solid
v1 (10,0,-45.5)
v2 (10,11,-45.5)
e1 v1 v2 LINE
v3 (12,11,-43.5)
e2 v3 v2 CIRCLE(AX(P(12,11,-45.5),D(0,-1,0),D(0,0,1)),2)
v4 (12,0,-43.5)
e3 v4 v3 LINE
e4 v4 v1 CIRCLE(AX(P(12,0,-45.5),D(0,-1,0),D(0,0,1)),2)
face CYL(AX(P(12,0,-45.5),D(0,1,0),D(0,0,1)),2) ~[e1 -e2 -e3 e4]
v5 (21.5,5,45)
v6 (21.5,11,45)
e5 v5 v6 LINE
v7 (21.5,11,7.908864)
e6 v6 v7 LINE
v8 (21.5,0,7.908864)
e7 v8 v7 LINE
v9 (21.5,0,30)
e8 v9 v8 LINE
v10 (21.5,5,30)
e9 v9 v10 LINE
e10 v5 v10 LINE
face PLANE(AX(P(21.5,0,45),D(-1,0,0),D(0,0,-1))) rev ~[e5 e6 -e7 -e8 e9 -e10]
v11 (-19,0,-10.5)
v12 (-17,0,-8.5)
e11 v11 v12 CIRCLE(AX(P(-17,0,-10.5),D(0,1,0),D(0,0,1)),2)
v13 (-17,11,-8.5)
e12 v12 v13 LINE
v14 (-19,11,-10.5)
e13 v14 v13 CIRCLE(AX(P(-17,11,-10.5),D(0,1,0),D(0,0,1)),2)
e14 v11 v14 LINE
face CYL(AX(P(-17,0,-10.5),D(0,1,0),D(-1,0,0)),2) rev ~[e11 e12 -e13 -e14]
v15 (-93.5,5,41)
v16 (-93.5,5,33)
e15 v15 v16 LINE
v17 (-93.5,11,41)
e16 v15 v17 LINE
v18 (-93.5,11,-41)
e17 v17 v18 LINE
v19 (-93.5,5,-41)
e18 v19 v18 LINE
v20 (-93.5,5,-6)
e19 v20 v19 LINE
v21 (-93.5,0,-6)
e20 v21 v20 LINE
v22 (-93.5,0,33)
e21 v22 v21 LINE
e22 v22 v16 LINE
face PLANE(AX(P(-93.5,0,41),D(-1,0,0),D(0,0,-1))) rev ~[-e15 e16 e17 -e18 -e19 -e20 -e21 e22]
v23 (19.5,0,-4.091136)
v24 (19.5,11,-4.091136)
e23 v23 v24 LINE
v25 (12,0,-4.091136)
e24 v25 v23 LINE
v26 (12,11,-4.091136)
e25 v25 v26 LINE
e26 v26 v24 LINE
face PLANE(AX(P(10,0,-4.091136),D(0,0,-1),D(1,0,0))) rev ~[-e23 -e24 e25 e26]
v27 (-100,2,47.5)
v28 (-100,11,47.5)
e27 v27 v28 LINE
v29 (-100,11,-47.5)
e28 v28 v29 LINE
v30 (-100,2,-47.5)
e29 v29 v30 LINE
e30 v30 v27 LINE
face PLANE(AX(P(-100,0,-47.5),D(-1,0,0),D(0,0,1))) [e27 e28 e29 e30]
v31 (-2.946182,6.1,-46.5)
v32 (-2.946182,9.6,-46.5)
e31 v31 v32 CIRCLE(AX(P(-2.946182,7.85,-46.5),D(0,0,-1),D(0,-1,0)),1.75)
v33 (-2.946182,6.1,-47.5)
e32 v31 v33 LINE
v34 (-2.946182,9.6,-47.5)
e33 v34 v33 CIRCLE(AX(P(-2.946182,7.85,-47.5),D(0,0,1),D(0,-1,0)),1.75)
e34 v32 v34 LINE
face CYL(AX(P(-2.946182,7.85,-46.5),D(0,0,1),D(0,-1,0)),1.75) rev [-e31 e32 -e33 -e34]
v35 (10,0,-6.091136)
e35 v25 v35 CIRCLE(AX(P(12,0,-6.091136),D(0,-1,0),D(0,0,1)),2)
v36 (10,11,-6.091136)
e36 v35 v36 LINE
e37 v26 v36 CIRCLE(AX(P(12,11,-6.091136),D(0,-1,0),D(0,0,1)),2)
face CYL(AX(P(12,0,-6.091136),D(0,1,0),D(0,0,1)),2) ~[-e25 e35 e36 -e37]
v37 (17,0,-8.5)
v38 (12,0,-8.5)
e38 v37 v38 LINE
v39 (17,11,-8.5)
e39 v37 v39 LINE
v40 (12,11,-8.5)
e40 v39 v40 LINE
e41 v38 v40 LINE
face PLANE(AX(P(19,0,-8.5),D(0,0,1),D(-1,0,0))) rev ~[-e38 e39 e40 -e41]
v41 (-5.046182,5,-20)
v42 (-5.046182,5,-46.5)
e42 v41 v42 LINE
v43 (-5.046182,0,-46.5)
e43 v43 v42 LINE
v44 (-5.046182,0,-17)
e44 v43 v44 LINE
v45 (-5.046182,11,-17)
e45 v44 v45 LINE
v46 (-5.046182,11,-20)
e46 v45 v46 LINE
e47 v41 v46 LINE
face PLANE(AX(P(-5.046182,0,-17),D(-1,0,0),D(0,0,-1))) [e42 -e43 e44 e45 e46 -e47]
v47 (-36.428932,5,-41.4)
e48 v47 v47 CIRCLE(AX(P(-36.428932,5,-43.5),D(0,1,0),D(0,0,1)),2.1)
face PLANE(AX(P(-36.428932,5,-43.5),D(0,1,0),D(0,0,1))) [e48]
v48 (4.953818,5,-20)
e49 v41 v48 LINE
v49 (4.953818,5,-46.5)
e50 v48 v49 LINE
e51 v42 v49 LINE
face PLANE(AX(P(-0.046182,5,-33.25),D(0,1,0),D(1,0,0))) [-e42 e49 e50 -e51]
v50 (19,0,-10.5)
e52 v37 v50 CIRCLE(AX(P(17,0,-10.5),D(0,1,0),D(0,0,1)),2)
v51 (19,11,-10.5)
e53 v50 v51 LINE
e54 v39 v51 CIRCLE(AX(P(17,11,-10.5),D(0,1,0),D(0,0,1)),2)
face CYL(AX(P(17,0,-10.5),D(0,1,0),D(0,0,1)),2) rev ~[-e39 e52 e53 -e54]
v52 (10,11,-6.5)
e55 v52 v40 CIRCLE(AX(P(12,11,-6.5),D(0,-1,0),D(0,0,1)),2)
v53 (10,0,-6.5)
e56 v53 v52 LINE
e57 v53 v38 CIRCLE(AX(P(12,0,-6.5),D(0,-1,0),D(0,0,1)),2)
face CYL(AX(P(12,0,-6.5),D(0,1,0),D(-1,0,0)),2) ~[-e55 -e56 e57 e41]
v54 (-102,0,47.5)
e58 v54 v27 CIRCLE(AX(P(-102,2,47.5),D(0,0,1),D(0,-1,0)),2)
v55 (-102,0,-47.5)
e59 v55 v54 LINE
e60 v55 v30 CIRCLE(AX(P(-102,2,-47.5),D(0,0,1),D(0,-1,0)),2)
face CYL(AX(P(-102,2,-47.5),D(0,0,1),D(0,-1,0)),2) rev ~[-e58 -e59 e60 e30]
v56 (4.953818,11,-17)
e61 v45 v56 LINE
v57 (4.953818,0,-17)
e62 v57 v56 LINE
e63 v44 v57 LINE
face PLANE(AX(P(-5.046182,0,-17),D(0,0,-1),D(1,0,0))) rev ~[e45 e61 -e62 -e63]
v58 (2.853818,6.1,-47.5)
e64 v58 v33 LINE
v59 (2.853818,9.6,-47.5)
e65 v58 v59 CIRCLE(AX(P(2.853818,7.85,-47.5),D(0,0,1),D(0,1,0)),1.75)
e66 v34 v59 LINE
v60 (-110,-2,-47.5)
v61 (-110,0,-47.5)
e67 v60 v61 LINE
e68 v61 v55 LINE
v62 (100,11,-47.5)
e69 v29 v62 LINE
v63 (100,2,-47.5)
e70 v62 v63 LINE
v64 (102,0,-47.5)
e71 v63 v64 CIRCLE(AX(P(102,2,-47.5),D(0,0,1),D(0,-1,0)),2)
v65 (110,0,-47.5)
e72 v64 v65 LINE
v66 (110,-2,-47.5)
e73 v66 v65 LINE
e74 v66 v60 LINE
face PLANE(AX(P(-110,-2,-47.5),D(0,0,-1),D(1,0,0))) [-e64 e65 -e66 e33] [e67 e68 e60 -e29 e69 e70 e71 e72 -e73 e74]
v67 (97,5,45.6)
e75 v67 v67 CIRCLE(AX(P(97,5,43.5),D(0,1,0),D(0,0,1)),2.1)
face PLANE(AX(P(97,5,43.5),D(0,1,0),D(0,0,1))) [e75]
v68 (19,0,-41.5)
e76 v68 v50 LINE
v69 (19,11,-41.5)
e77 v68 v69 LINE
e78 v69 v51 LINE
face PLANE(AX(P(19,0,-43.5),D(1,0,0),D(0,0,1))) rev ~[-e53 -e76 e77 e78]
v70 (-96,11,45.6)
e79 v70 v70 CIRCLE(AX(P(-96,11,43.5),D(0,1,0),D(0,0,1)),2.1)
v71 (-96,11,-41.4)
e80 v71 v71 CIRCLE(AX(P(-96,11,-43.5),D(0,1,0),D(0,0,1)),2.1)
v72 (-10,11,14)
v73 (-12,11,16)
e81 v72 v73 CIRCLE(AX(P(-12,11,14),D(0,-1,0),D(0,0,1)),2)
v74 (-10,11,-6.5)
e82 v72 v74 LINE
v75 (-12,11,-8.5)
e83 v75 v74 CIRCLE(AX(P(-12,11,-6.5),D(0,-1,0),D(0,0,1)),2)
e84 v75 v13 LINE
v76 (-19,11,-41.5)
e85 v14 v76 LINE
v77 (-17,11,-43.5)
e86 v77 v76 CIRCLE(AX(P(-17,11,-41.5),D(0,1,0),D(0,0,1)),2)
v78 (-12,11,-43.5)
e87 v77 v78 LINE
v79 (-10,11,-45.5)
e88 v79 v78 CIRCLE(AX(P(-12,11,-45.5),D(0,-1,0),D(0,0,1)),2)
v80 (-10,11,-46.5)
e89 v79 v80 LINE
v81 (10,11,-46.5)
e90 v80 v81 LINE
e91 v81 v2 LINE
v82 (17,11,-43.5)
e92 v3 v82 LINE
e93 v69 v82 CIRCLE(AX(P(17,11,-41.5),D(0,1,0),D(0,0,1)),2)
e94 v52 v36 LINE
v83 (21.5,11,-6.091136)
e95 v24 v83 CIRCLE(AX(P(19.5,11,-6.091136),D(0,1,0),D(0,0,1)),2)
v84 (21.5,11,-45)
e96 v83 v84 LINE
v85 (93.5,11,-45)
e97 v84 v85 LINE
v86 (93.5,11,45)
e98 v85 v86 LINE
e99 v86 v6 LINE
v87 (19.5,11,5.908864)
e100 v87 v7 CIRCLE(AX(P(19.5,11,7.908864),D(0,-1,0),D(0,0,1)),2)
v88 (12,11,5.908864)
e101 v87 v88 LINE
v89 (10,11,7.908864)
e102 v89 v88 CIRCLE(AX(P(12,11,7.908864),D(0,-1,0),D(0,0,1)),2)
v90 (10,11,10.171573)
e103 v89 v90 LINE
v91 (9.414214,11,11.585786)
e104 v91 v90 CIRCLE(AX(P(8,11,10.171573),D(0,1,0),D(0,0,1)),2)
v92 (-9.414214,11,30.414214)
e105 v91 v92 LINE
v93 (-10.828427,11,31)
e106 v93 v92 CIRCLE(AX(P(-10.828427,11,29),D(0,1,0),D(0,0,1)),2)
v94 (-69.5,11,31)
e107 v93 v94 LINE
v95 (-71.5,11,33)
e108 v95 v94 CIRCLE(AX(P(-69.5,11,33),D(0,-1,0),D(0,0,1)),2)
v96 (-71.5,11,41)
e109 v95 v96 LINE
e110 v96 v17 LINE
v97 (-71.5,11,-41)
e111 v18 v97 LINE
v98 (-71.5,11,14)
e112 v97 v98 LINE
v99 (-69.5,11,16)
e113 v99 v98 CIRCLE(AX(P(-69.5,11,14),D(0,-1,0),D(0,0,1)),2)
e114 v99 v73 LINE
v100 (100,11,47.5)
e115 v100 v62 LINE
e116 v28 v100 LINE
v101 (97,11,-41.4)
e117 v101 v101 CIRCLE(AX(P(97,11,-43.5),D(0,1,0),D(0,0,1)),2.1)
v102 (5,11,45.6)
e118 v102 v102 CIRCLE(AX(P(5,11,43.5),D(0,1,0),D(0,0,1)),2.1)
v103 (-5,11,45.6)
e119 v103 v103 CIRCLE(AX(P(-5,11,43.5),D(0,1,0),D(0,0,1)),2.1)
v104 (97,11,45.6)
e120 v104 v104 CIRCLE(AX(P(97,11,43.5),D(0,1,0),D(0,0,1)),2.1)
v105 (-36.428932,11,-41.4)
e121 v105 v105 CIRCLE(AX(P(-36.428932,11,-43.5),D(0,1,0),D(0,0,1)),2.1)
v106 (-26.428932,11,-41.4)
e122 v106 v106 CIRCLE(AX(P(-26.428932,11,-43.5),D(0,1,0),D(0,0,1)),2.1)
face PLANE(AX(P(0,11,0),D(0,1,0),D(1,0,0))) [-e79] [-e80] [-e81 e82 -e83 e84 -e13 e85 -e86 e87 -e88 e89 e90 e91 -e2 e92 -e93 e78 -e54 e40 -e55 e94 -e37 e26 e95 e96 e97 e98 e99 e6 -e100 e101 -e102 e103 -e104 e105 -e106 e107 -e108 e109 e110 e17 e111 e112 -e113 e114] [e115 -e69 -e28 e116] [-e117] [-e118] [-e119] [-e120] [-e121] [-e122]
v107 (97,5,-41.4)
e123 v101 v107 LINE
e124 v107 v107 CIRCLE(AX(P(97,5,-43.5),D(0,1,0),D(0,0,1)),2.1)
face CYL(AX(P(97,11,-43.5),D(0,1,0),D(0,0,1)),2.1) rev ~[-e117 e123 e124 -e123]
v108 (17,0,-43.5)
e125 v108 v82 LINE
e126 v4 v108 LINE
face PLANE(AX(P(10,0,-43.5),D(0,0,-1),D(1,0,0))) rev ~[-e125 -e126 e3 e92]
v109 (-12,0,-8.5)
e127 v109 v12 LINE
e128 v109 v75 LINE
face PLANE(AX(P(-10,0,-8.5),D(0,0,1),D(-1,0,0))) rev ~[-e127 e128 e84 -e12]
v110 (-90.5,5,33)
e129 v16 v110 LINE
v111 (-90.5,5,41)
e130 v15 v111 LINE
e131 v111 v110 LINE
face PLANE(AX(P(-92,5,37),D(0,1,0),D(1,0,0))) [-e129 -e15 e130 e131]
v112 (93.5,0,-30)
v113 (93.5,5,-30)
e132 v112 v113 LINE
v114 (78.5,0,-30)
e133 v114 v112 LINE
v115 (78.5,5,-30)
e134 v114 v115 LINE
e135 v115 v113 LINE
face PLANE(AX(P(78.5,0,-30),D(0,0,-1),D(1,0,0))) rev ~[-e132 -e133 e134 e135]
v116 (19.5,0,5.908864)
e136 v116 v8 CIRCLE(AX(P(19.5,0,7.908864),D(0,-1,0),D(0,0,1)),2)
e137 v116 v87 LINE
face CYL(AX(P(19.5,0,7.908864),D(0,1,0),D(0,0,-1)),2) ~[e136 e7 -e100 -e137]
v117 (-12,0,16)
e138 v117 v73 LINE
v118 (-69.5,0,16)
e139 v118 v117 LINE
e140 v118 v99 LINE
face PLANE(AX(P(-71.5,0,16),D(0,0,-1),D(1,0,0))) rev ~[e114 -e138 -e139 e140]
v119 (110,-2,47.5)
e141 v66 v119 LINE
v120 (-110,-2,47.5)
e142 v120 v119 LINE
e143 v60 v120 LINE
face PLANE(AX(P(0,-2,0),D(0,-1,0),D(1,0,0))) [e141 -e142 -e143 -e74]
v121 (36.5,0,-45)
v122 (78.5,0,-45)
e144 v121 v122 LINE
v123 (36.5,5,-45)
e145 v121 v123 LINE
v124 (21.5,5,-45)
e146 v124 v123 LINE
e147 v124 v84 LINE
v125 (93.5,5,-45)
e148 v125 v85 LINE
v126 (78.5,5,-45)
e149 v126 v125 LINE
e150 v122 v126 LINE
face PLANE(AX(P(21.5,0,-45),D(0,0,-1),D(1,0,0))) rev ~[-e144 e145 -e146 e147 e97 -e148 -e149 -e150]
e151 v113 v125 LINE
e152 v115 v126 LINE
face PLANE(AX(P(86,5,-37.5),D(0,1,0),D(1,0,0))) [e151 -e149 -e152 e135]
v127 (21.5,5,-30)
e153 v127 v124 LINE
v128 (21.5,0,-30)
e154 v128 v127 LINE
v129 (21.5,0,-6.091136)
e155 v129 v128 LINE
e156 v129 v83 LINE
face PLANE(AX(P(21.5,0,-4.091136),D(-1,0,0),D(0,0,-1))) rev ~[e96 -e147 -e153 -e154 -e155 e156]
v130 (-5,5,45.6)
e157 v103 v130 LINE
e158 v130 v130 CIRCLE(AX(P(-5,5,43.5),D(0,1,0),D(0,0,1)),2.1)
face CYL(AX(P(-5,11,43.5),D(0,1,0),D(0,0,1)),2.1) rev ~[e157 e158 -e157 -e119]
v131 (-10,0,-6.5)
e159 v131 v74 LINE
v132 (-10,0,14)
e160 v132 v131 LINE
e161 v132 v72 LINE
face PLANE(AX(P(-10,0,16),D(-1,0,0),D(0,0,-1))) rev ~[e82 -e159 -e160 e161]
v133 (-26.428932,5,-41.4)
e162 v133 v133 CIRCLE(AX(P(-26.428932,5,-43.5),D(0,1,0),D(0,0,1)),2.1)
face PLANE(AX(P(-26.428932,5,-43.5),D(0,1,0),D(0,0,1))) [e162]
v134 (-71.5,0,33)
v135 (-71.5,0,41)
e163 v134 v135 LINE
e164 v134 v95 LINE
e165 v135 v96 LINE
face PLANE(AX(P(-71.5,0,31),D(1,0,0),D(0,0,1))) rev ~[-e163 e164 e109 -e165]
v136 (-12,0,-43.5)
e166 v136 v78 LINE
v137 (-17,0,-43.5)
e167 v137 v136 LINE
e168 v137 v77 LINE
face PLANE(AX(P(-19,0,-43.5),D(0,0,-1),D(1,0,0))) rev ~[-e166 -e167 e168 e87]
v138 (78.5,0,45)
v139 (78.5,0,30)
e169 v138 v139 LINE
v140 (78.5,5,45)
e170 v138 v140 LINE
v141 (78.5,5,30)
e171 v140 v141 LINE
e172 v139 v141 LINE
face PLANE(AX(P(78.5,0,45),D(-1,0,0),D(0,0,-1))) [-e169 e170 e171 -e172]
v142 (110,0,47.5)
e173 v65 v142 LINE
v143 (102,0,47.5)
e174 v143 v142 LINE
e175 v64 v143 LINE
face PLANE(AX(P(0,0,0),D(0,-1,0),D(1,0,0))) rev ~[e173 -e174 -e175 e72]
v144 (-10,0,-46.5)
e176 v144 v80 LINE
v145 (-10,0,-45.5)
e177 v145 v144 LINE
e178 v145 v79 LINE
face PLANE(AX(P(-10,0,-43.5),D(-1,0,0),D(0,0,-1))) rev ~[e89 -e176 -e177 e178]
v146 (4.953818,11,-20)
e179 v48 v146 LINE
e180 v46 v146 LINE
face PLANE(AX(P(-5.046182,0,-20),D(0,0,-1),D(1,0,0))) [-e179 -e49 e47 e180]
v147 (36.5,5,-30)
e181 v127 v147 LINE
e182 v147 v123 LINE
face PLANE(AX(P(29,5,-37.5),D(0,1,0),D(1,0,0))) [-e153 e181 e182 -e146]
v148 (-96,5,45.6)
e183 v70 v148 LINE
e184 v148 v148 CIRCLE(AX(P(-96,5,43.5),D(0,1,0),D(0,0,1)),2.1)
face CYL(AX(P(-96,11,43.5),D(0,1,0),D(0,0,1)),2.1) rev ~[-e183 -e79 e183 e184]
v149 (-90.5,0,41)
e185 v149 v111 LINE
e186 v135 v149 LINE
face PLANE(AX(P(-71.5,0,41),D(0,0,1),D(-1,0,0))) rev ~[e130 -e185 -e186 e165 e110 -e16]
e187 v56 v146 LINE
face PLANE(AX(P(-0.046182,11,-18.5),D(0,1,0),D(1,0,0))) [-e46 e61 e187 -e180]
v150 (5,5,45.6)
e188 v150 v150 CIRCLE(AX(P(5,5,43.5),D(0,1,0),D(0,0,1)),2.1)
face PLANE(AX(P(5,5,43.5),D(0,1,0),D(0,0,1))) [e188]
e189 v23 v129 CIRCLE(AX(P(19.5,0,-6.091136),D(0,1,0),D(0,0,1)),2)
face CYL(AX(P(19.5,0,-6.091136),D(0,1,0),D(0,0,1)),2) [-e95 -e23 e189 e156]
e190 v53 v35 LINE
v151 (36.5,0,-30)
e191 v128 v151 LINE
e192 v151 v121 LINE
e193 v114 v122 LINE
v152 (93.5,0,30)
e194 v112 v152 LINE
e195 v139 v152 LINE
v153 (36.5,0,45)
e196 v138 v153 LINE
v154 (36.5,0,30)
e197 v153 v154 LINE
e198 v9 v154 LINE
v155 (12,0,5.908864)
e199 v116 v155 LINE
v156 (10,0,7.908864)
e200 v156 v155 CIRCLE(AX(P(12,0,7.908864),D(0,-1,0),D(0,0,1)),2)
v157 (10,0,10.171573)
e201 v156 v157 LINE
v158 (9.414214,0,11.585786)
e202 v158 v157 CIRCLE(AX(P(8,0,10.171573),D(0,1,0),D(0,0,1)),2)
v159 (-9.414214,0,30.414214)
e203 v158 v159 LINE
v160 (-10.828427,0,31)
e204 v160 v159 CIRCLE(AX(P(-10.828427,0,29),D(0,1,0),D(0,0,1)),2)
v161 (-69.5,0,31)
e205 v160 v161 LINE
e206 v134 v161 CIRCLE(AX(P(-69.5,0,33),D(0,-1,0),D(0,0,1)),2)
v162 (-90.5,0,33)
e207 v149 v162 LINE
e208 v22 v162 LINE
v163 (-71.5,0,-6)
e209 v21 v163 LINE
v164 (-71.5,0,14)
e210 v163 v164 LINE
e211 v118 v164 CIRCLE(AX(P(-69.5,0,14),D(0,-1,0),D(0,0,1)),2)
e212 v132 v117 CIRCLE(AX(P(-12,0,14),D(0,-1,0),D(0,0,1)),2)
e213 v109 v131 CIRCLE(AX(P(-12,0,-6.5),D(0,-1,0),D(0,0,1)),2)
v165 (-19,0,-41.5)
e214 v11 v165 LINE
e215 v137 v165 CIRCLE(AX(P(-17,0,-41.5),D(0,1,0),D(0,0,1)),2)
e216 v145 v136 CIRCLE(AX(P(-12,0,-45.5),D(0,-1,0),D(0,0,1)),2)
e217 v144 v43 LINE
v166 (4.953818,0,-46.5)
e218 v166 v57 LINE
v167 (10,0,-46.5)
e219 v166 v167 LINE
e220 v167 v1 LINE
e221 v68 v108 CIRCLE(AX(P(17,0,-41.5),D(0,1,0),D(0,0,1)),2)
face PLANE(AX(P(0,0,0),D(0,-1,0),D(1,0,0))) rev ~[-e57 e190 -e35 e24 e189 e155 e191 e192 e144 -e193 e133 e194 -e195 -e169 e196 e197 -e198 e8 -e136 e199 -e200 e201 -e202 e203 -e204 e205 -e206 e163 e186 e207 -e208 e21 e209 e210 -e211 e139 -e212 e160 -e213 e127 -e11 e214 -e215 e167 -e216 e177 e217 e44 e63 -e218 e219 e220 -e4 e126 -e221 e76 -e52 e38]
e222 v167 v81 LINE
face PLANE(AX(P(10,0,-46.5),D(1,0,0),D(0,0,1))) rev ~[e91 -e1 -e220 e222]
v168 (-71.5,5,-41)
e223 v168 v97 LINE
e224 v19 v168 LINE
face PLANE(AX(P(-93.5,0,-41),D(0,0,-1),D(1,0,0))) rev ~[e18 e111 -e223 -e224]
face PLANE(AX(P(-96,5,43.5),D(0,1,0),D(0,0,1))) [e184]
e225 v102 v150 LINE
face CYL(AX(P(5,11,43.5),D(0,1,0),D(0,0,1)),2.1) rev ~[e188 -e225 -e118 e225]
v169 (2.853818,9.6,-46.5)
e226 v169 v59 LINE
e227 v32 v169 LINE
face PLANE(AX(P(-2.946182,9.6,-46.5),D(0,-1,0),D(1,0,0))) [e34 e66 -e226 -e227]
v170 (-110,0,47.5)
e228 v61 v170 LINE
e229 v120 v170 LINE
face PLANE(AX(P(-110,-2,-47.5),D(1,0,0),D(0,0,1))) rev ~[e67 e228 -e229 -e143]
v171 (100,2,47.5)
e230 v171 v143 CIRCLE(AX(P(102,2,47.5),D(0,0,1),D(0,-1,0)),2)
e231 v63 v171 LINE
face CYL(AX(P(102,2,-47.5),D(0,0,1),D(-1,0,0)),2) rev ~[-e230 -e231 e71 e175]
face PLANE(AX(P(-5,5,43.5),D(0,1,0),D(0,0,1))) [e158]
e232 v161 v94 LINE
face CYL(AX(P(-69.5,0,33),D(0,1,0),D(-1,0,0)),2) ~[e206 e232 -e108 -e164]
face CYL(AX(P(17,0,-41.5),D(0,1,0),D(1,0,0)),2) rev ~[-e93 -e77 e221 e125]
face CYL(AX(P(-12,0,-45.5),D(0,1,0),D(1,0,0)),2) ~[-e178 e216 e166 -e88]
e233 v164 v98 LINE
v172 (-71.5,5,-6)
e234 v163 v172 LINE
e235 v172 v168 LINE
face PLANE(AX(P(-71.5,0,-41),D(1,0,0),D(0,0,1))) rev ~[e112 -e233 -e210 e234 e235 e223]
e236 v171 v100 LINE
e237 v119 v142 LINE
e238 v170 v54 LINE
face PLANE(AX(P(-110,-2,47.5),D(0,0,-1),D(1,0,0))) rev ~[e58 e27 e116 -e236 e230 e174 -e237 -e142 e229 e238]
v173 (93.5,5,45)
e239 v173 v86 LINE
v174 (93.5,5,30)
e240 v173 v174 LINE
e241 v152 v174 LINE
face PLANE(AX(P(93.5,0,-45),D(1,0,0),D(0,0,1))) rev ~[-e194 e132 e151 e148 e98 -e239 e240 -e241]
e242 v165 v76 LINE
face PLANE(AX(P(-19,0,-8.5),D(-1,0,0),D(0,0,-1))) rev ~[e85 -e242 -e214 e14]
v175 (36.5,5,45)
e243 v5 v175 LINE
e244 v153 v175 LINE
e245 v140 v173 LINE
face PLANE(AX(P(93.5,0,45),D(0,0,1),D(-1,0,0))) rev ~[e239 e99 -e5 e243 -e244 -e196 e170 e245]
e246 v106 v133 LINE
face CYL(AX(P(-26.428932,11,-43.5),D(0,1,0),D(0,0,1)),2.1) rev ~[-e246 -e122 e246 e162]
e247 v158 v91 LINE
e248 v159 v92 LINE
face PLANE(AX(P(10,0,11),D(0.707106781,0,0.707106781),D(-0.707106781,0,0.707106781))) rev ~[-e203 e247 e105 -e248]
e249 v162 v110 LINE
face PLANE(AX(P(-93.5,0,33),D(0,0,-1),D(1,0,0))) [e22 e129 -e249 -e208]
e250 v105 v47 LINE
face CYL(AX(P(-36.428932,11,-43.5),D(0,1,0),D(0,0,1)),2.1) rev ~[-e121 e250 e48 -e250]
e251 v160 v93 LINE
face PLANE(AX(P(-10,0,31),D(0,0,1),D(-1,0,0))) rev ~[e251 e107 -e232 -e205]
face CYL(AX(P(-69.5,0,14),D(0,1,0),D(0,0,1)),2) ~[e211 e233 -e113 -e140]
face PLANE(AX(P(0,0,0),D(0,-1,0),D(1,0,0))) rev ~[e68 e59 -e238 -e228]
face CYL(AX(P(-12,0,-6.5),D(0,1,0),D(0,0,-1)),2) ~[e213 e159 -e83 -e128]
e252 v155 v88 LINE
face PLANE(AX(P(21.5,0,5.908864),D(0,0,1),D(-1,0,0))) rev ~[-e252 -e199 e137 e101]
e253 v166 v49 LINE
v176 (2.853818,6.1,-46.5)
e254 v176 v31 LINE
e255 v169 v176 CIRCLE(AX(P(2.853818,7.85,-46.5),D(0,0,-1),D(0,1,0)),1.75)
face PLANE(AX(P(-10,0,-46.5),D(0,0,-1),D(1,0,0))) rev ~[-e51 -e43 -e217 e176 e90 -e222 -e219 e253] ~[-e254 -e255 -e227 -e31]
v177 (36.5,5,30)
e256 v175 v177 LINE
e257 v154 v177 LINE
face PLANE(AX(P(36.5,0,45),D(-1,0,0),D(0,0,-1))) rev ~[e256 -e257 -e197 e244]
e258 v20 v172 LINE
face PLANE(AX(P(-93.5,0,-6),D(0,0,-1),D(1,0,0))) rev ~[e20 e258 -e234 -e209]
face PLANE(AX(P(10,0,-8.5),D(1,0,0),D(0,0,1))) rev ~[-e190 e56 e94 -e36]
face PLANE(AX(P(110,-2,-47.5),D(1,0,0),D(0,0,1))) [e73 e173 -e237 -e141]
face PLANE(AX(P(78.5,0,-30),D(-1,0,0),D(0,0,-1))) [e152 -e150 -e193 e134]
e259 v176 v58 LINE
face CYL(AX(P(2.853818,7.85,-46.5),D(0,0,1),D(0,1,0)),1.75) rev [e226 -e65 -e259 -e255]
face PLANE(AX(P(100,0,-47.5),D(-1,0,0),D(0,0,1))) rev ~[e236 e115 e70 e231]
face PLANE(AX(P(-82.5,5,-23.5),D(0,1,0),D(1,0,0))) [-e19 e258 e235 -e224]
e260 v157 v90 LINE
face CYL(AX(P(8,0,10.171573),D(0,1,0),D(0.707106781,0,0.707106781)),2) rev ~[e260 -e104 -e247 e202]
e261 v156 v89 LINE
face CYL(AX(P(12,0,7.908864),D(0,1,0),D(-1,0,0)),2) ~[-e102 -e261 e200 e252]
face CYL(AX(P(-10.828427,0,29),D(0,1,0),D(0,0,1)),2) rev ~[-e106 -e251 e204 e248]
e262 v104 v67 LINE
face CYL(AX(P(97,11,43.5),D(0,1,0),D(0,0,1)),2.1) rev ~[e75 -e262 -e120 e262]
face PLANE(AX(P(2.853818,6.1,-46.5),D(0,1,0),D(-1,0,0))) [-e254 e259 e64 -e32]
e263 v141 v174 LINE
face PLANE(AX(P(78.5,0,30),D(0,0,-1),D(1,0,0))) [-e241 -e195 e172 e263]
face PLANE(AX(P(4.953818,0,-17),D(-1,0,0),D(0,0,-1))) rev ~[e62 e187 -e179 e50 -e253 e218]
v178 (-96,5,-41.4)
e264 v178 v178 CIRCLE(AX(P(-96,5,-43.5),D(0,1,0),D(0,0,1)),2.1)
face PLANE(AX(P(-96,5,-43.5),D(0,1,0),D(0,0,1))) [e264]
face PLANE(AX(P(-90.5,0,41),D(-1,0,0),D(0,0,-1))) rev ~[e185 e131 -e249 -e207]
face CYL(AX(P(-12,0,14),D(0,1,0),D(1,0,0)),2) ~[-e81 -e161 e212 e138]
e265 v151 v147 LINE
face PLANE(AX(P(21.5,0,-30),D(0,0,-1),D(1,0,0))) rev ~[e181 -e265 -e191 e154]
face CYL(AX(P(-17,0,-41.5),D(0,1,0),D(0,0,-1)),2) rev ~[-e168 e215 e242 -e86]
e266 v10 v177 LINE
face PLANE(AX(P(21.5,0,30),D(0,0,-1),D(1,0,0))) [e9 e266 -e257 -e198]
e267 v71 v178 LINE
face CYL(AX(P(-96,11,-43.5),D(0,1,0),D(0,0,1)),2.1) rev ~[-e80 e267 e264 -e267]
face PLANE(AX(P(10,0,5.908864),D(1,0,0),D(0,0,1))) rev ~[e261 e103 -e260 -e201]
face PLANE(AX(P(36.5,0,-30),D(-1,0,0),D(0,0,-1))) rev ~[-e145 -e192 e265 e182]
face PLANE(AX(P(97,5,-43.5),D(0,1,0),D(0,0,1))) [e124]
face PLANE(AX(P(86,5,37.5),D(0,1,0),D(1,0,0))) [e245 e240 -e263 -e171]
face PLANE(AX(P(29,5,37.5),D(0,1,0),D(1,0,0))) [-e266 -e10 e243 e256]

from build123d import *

# Parameters (mm, degrees)
SKETCH2_W           = 200
SKETCH2_H           = 95
BOSS_EXTRUDE1_DEPTH = 11
SKETCH3_W           = 200
SKETCH3_H           = 95
BOSS_EXTRUDE2_DEPTH = 2
SKETCH4_W           = 22
SKETCH4_H           = 35
SKETCH4_W_2         = 10
SKETCH4_H_2         = 26.5
SKETCH4_W_3         = 3
SKETCH4_H_3         = 8
SKETCH4_W_4         = 15
SKETCH4_H_4         = 15
BOSS_EXTRUDE3_DEPTH = 5
CUT_EXTRUDE1_DEPTH  = 7
SKETCH9_W           = 10
SKETCH9_H           = 3
BOSS_EXTRUDE4_DEPTH = 11
SKETCH7_W           = 220
SKETCH7_H           = 95
BOSS_EXTRUDE5_DEPTH = 2
FILLET1_R           = 2
FILLET2_R           = 2
SKETCH10_R          = 2.1
CUT_EXTRUDE2_DEPTH  = 6


with BuildPart() as part:
    # Sketch2 → Boss-Extrude1 (new body)
    with BuildSketch(Plane(origin=(0, 0, 0), x_dir=(1, 0, 0), z_dir=(0, 1, 0))):
        Rectangle(SKETCH2_W, SKETCH2_H)
        Polygon((21.5, 4.091136268), (21.5, 45), (93.5, 45), (93.5, -45), (21.5, -45), (21.5, -5.908863732), (10, -5.908863732), (10, -11), (-10, -31), (-71.5, -31), (-71.5, -41), (-93.5, -41), (-93.5, 41), (-71.5, 41), (-71.5, -16), (-10, -16), (-10, 8.5), (-19, 8.5), (-19, 43.5), (-10, 43.5), (-10, 46.5), (10, 46.5), (10, 43.5), (19, 43.5), (19, 8.5), (10, 8.5), (10, 4.091136268), align=None, mode=Mode.SUBTRACT)
    extrude(amount=BOSS_EXTRUDE1_DEPTH)

    # Sketch3 → Boss-Extrude2 (add)
    with BuildSketch(Plane.XZ):
        Rectangle(SKETCH3_W, SKETCH3_H)
    extrude(amount=BOSS_EXTRUDE2_DEPTH)

    # Sketch4 → Boss-Extrude3 (add)
    with BuildSketch(Plane(origin=(0, 0, 0), x_dir=(1, 0, 0), z_dir=(0, 1, 0))):
        with Locations((-82.5, 23.5)):
            Rectangle(SKETCH4_W, SKETCH4_H)
        with Locations((-0.04618168, 33.25)):
            Rectangle(SKETCH4_W_2, SKETCH4_H_2)
        with Locations((-92, -37)):
            Rectangle(SKETCH4_W_3, SKETCH4_H_3)
        with Locations((29, 37.5)):
            Rectangle(SKETCH4_W_4, SKETCH4_H_4)
        with Locations((86, 37.5)):
            Rectangle(SKETCH4_W_4, SKETCH4_H_4)
        with Locations((86, -37.5)):
            Rectangle(SKETCH4_W_4, SKETCH4_H_4)
        with Locations((29, -37.5)):
            Rectangle(SKETCH4_W_4, SKETCH4_H_4)
    extrude(amount=BOSS_EXTRUDE3_DEPTH)

    # Sketch5 → Cut-Extrude1 (cut)
    with BuildSketch(Plane.XY.offset(-46.5)):
        with BuildLine():
            Line((-2.94618168, 9.6), (2.85381832, 9.6))
            ThreePointArc((2.85381832, 9.6), (4.60381832, 7.85), (2.85381832, 6.1))
            Line((2.85381832, 6.1), (-2.94618168, 6.1))
            ThreePointArc((-2.94618168, 6.1), (-4.69618168, 7.85), (-2.94618168, 9.6))
        make_face()
    extrude(amount=-CUT_EXTRUDE1_DEPTH, mode=Mode.SUBTRACT)

    # Sketch9 → Boss-Extrude4 (add)
    with BuildSketch(Plane(origin=(0, 0, 0), x_dir=(1, 0, 0), z_dir=(0, 1, 0))):
        with Locations((-0.04618168, 18.5)):
            Rectangle(SKETCH9_W, SKETCH9_H)
    extrude(amount=BOSS_EXTRUDE4_DEPTH)

    # Sketch7 → Boss-Extrude5 (add)
    with BuildSketch(Plane.XZ.offset(2)):
        Rectangle(SKETCH7_W, SKETCH7_H)
    extrude(amount=-BOSS_EXTRUDE5_DEPTH)

    # Fillet1
    fillet1_edges = [part.edges().sort_by_distance(p)[0] for p in [
        (100, 0, 0),
        (-100, 0, 0),
    ]]
    fillet(fillet1_edges, radius=FILLET1_R)

    # Fillet2
    fillet2_edges = [part.edges().sort_by_distance(p)[0] for p in [
        (10, 5.5, -43.5),
        (-10, 5.5, -43.5),
        (-19, 5.5, -43.5),
        (-19, 5.5, -8.5),
        (-10, 5.5, -8.5),
        (-10, 5.5, 16),
        (-71.5, 5.5, 16),
        (-71.5, 5.5, 31),
        (-10, 5.5, 31),
        (10, 5.5, 11),
        (10, 5.5, 5.908863732),
        (21.5, 5.5, 5.908863732),
        (21.5, 5.5, -4.091136268),
        (10, 5.5, -4.091136268),
        (10, 5.5, -8.5),
        (19, 5.5, -8.5),
        (19, 5.5, -43.5),
    ]]
    fillet(fillet2_edges, radius=FILLET2_R)

    # Sketch10 → Cut-Extrude2 (cut)
    with BuildSketch(Plane(origin=(0, 11, 0), x_dir=(1, 0, 0), z_dir=(0, 1, 0))):
        with Locations(Location((-96, -43.5, 0), (0, 0, 270))):
            Circle(SKETCH10_R)
        with Locations(Location((-5, -43.5, 0), (0, 0, 270))):
            Circle(SKETCH10_R)
        with Locations(Location((5, -43.5, 0), (0, 0, 270))):
            Circle(SKETCH10_R)
        with Locations(Location((97, -43.5, 0), (0, 0, 270))):
            Circle(SKETCH10_R)
        with Locations(Location((97, 43.5, 0), (0, 0, 270))):
            Circle(SKETCH10_R)
        with Locations(Location((-26.428932188, 43.5, 0), (0, 0, 270))):
            Circle(SKETCH10_R)
        with Locations(Location((-36.428932188, 43.5, 0), (0, 0, 270))):
            Circle(SKETCH10_R)
        with Locations(Location((-96, 43.5, 0), (0, 0, 270))):
            Circle(SKETCH10_R)
    extrude(amount=-CUT_EXTRUDE2_DEPTH, mode=Mode.SUBTRACT)


solid = part.part
